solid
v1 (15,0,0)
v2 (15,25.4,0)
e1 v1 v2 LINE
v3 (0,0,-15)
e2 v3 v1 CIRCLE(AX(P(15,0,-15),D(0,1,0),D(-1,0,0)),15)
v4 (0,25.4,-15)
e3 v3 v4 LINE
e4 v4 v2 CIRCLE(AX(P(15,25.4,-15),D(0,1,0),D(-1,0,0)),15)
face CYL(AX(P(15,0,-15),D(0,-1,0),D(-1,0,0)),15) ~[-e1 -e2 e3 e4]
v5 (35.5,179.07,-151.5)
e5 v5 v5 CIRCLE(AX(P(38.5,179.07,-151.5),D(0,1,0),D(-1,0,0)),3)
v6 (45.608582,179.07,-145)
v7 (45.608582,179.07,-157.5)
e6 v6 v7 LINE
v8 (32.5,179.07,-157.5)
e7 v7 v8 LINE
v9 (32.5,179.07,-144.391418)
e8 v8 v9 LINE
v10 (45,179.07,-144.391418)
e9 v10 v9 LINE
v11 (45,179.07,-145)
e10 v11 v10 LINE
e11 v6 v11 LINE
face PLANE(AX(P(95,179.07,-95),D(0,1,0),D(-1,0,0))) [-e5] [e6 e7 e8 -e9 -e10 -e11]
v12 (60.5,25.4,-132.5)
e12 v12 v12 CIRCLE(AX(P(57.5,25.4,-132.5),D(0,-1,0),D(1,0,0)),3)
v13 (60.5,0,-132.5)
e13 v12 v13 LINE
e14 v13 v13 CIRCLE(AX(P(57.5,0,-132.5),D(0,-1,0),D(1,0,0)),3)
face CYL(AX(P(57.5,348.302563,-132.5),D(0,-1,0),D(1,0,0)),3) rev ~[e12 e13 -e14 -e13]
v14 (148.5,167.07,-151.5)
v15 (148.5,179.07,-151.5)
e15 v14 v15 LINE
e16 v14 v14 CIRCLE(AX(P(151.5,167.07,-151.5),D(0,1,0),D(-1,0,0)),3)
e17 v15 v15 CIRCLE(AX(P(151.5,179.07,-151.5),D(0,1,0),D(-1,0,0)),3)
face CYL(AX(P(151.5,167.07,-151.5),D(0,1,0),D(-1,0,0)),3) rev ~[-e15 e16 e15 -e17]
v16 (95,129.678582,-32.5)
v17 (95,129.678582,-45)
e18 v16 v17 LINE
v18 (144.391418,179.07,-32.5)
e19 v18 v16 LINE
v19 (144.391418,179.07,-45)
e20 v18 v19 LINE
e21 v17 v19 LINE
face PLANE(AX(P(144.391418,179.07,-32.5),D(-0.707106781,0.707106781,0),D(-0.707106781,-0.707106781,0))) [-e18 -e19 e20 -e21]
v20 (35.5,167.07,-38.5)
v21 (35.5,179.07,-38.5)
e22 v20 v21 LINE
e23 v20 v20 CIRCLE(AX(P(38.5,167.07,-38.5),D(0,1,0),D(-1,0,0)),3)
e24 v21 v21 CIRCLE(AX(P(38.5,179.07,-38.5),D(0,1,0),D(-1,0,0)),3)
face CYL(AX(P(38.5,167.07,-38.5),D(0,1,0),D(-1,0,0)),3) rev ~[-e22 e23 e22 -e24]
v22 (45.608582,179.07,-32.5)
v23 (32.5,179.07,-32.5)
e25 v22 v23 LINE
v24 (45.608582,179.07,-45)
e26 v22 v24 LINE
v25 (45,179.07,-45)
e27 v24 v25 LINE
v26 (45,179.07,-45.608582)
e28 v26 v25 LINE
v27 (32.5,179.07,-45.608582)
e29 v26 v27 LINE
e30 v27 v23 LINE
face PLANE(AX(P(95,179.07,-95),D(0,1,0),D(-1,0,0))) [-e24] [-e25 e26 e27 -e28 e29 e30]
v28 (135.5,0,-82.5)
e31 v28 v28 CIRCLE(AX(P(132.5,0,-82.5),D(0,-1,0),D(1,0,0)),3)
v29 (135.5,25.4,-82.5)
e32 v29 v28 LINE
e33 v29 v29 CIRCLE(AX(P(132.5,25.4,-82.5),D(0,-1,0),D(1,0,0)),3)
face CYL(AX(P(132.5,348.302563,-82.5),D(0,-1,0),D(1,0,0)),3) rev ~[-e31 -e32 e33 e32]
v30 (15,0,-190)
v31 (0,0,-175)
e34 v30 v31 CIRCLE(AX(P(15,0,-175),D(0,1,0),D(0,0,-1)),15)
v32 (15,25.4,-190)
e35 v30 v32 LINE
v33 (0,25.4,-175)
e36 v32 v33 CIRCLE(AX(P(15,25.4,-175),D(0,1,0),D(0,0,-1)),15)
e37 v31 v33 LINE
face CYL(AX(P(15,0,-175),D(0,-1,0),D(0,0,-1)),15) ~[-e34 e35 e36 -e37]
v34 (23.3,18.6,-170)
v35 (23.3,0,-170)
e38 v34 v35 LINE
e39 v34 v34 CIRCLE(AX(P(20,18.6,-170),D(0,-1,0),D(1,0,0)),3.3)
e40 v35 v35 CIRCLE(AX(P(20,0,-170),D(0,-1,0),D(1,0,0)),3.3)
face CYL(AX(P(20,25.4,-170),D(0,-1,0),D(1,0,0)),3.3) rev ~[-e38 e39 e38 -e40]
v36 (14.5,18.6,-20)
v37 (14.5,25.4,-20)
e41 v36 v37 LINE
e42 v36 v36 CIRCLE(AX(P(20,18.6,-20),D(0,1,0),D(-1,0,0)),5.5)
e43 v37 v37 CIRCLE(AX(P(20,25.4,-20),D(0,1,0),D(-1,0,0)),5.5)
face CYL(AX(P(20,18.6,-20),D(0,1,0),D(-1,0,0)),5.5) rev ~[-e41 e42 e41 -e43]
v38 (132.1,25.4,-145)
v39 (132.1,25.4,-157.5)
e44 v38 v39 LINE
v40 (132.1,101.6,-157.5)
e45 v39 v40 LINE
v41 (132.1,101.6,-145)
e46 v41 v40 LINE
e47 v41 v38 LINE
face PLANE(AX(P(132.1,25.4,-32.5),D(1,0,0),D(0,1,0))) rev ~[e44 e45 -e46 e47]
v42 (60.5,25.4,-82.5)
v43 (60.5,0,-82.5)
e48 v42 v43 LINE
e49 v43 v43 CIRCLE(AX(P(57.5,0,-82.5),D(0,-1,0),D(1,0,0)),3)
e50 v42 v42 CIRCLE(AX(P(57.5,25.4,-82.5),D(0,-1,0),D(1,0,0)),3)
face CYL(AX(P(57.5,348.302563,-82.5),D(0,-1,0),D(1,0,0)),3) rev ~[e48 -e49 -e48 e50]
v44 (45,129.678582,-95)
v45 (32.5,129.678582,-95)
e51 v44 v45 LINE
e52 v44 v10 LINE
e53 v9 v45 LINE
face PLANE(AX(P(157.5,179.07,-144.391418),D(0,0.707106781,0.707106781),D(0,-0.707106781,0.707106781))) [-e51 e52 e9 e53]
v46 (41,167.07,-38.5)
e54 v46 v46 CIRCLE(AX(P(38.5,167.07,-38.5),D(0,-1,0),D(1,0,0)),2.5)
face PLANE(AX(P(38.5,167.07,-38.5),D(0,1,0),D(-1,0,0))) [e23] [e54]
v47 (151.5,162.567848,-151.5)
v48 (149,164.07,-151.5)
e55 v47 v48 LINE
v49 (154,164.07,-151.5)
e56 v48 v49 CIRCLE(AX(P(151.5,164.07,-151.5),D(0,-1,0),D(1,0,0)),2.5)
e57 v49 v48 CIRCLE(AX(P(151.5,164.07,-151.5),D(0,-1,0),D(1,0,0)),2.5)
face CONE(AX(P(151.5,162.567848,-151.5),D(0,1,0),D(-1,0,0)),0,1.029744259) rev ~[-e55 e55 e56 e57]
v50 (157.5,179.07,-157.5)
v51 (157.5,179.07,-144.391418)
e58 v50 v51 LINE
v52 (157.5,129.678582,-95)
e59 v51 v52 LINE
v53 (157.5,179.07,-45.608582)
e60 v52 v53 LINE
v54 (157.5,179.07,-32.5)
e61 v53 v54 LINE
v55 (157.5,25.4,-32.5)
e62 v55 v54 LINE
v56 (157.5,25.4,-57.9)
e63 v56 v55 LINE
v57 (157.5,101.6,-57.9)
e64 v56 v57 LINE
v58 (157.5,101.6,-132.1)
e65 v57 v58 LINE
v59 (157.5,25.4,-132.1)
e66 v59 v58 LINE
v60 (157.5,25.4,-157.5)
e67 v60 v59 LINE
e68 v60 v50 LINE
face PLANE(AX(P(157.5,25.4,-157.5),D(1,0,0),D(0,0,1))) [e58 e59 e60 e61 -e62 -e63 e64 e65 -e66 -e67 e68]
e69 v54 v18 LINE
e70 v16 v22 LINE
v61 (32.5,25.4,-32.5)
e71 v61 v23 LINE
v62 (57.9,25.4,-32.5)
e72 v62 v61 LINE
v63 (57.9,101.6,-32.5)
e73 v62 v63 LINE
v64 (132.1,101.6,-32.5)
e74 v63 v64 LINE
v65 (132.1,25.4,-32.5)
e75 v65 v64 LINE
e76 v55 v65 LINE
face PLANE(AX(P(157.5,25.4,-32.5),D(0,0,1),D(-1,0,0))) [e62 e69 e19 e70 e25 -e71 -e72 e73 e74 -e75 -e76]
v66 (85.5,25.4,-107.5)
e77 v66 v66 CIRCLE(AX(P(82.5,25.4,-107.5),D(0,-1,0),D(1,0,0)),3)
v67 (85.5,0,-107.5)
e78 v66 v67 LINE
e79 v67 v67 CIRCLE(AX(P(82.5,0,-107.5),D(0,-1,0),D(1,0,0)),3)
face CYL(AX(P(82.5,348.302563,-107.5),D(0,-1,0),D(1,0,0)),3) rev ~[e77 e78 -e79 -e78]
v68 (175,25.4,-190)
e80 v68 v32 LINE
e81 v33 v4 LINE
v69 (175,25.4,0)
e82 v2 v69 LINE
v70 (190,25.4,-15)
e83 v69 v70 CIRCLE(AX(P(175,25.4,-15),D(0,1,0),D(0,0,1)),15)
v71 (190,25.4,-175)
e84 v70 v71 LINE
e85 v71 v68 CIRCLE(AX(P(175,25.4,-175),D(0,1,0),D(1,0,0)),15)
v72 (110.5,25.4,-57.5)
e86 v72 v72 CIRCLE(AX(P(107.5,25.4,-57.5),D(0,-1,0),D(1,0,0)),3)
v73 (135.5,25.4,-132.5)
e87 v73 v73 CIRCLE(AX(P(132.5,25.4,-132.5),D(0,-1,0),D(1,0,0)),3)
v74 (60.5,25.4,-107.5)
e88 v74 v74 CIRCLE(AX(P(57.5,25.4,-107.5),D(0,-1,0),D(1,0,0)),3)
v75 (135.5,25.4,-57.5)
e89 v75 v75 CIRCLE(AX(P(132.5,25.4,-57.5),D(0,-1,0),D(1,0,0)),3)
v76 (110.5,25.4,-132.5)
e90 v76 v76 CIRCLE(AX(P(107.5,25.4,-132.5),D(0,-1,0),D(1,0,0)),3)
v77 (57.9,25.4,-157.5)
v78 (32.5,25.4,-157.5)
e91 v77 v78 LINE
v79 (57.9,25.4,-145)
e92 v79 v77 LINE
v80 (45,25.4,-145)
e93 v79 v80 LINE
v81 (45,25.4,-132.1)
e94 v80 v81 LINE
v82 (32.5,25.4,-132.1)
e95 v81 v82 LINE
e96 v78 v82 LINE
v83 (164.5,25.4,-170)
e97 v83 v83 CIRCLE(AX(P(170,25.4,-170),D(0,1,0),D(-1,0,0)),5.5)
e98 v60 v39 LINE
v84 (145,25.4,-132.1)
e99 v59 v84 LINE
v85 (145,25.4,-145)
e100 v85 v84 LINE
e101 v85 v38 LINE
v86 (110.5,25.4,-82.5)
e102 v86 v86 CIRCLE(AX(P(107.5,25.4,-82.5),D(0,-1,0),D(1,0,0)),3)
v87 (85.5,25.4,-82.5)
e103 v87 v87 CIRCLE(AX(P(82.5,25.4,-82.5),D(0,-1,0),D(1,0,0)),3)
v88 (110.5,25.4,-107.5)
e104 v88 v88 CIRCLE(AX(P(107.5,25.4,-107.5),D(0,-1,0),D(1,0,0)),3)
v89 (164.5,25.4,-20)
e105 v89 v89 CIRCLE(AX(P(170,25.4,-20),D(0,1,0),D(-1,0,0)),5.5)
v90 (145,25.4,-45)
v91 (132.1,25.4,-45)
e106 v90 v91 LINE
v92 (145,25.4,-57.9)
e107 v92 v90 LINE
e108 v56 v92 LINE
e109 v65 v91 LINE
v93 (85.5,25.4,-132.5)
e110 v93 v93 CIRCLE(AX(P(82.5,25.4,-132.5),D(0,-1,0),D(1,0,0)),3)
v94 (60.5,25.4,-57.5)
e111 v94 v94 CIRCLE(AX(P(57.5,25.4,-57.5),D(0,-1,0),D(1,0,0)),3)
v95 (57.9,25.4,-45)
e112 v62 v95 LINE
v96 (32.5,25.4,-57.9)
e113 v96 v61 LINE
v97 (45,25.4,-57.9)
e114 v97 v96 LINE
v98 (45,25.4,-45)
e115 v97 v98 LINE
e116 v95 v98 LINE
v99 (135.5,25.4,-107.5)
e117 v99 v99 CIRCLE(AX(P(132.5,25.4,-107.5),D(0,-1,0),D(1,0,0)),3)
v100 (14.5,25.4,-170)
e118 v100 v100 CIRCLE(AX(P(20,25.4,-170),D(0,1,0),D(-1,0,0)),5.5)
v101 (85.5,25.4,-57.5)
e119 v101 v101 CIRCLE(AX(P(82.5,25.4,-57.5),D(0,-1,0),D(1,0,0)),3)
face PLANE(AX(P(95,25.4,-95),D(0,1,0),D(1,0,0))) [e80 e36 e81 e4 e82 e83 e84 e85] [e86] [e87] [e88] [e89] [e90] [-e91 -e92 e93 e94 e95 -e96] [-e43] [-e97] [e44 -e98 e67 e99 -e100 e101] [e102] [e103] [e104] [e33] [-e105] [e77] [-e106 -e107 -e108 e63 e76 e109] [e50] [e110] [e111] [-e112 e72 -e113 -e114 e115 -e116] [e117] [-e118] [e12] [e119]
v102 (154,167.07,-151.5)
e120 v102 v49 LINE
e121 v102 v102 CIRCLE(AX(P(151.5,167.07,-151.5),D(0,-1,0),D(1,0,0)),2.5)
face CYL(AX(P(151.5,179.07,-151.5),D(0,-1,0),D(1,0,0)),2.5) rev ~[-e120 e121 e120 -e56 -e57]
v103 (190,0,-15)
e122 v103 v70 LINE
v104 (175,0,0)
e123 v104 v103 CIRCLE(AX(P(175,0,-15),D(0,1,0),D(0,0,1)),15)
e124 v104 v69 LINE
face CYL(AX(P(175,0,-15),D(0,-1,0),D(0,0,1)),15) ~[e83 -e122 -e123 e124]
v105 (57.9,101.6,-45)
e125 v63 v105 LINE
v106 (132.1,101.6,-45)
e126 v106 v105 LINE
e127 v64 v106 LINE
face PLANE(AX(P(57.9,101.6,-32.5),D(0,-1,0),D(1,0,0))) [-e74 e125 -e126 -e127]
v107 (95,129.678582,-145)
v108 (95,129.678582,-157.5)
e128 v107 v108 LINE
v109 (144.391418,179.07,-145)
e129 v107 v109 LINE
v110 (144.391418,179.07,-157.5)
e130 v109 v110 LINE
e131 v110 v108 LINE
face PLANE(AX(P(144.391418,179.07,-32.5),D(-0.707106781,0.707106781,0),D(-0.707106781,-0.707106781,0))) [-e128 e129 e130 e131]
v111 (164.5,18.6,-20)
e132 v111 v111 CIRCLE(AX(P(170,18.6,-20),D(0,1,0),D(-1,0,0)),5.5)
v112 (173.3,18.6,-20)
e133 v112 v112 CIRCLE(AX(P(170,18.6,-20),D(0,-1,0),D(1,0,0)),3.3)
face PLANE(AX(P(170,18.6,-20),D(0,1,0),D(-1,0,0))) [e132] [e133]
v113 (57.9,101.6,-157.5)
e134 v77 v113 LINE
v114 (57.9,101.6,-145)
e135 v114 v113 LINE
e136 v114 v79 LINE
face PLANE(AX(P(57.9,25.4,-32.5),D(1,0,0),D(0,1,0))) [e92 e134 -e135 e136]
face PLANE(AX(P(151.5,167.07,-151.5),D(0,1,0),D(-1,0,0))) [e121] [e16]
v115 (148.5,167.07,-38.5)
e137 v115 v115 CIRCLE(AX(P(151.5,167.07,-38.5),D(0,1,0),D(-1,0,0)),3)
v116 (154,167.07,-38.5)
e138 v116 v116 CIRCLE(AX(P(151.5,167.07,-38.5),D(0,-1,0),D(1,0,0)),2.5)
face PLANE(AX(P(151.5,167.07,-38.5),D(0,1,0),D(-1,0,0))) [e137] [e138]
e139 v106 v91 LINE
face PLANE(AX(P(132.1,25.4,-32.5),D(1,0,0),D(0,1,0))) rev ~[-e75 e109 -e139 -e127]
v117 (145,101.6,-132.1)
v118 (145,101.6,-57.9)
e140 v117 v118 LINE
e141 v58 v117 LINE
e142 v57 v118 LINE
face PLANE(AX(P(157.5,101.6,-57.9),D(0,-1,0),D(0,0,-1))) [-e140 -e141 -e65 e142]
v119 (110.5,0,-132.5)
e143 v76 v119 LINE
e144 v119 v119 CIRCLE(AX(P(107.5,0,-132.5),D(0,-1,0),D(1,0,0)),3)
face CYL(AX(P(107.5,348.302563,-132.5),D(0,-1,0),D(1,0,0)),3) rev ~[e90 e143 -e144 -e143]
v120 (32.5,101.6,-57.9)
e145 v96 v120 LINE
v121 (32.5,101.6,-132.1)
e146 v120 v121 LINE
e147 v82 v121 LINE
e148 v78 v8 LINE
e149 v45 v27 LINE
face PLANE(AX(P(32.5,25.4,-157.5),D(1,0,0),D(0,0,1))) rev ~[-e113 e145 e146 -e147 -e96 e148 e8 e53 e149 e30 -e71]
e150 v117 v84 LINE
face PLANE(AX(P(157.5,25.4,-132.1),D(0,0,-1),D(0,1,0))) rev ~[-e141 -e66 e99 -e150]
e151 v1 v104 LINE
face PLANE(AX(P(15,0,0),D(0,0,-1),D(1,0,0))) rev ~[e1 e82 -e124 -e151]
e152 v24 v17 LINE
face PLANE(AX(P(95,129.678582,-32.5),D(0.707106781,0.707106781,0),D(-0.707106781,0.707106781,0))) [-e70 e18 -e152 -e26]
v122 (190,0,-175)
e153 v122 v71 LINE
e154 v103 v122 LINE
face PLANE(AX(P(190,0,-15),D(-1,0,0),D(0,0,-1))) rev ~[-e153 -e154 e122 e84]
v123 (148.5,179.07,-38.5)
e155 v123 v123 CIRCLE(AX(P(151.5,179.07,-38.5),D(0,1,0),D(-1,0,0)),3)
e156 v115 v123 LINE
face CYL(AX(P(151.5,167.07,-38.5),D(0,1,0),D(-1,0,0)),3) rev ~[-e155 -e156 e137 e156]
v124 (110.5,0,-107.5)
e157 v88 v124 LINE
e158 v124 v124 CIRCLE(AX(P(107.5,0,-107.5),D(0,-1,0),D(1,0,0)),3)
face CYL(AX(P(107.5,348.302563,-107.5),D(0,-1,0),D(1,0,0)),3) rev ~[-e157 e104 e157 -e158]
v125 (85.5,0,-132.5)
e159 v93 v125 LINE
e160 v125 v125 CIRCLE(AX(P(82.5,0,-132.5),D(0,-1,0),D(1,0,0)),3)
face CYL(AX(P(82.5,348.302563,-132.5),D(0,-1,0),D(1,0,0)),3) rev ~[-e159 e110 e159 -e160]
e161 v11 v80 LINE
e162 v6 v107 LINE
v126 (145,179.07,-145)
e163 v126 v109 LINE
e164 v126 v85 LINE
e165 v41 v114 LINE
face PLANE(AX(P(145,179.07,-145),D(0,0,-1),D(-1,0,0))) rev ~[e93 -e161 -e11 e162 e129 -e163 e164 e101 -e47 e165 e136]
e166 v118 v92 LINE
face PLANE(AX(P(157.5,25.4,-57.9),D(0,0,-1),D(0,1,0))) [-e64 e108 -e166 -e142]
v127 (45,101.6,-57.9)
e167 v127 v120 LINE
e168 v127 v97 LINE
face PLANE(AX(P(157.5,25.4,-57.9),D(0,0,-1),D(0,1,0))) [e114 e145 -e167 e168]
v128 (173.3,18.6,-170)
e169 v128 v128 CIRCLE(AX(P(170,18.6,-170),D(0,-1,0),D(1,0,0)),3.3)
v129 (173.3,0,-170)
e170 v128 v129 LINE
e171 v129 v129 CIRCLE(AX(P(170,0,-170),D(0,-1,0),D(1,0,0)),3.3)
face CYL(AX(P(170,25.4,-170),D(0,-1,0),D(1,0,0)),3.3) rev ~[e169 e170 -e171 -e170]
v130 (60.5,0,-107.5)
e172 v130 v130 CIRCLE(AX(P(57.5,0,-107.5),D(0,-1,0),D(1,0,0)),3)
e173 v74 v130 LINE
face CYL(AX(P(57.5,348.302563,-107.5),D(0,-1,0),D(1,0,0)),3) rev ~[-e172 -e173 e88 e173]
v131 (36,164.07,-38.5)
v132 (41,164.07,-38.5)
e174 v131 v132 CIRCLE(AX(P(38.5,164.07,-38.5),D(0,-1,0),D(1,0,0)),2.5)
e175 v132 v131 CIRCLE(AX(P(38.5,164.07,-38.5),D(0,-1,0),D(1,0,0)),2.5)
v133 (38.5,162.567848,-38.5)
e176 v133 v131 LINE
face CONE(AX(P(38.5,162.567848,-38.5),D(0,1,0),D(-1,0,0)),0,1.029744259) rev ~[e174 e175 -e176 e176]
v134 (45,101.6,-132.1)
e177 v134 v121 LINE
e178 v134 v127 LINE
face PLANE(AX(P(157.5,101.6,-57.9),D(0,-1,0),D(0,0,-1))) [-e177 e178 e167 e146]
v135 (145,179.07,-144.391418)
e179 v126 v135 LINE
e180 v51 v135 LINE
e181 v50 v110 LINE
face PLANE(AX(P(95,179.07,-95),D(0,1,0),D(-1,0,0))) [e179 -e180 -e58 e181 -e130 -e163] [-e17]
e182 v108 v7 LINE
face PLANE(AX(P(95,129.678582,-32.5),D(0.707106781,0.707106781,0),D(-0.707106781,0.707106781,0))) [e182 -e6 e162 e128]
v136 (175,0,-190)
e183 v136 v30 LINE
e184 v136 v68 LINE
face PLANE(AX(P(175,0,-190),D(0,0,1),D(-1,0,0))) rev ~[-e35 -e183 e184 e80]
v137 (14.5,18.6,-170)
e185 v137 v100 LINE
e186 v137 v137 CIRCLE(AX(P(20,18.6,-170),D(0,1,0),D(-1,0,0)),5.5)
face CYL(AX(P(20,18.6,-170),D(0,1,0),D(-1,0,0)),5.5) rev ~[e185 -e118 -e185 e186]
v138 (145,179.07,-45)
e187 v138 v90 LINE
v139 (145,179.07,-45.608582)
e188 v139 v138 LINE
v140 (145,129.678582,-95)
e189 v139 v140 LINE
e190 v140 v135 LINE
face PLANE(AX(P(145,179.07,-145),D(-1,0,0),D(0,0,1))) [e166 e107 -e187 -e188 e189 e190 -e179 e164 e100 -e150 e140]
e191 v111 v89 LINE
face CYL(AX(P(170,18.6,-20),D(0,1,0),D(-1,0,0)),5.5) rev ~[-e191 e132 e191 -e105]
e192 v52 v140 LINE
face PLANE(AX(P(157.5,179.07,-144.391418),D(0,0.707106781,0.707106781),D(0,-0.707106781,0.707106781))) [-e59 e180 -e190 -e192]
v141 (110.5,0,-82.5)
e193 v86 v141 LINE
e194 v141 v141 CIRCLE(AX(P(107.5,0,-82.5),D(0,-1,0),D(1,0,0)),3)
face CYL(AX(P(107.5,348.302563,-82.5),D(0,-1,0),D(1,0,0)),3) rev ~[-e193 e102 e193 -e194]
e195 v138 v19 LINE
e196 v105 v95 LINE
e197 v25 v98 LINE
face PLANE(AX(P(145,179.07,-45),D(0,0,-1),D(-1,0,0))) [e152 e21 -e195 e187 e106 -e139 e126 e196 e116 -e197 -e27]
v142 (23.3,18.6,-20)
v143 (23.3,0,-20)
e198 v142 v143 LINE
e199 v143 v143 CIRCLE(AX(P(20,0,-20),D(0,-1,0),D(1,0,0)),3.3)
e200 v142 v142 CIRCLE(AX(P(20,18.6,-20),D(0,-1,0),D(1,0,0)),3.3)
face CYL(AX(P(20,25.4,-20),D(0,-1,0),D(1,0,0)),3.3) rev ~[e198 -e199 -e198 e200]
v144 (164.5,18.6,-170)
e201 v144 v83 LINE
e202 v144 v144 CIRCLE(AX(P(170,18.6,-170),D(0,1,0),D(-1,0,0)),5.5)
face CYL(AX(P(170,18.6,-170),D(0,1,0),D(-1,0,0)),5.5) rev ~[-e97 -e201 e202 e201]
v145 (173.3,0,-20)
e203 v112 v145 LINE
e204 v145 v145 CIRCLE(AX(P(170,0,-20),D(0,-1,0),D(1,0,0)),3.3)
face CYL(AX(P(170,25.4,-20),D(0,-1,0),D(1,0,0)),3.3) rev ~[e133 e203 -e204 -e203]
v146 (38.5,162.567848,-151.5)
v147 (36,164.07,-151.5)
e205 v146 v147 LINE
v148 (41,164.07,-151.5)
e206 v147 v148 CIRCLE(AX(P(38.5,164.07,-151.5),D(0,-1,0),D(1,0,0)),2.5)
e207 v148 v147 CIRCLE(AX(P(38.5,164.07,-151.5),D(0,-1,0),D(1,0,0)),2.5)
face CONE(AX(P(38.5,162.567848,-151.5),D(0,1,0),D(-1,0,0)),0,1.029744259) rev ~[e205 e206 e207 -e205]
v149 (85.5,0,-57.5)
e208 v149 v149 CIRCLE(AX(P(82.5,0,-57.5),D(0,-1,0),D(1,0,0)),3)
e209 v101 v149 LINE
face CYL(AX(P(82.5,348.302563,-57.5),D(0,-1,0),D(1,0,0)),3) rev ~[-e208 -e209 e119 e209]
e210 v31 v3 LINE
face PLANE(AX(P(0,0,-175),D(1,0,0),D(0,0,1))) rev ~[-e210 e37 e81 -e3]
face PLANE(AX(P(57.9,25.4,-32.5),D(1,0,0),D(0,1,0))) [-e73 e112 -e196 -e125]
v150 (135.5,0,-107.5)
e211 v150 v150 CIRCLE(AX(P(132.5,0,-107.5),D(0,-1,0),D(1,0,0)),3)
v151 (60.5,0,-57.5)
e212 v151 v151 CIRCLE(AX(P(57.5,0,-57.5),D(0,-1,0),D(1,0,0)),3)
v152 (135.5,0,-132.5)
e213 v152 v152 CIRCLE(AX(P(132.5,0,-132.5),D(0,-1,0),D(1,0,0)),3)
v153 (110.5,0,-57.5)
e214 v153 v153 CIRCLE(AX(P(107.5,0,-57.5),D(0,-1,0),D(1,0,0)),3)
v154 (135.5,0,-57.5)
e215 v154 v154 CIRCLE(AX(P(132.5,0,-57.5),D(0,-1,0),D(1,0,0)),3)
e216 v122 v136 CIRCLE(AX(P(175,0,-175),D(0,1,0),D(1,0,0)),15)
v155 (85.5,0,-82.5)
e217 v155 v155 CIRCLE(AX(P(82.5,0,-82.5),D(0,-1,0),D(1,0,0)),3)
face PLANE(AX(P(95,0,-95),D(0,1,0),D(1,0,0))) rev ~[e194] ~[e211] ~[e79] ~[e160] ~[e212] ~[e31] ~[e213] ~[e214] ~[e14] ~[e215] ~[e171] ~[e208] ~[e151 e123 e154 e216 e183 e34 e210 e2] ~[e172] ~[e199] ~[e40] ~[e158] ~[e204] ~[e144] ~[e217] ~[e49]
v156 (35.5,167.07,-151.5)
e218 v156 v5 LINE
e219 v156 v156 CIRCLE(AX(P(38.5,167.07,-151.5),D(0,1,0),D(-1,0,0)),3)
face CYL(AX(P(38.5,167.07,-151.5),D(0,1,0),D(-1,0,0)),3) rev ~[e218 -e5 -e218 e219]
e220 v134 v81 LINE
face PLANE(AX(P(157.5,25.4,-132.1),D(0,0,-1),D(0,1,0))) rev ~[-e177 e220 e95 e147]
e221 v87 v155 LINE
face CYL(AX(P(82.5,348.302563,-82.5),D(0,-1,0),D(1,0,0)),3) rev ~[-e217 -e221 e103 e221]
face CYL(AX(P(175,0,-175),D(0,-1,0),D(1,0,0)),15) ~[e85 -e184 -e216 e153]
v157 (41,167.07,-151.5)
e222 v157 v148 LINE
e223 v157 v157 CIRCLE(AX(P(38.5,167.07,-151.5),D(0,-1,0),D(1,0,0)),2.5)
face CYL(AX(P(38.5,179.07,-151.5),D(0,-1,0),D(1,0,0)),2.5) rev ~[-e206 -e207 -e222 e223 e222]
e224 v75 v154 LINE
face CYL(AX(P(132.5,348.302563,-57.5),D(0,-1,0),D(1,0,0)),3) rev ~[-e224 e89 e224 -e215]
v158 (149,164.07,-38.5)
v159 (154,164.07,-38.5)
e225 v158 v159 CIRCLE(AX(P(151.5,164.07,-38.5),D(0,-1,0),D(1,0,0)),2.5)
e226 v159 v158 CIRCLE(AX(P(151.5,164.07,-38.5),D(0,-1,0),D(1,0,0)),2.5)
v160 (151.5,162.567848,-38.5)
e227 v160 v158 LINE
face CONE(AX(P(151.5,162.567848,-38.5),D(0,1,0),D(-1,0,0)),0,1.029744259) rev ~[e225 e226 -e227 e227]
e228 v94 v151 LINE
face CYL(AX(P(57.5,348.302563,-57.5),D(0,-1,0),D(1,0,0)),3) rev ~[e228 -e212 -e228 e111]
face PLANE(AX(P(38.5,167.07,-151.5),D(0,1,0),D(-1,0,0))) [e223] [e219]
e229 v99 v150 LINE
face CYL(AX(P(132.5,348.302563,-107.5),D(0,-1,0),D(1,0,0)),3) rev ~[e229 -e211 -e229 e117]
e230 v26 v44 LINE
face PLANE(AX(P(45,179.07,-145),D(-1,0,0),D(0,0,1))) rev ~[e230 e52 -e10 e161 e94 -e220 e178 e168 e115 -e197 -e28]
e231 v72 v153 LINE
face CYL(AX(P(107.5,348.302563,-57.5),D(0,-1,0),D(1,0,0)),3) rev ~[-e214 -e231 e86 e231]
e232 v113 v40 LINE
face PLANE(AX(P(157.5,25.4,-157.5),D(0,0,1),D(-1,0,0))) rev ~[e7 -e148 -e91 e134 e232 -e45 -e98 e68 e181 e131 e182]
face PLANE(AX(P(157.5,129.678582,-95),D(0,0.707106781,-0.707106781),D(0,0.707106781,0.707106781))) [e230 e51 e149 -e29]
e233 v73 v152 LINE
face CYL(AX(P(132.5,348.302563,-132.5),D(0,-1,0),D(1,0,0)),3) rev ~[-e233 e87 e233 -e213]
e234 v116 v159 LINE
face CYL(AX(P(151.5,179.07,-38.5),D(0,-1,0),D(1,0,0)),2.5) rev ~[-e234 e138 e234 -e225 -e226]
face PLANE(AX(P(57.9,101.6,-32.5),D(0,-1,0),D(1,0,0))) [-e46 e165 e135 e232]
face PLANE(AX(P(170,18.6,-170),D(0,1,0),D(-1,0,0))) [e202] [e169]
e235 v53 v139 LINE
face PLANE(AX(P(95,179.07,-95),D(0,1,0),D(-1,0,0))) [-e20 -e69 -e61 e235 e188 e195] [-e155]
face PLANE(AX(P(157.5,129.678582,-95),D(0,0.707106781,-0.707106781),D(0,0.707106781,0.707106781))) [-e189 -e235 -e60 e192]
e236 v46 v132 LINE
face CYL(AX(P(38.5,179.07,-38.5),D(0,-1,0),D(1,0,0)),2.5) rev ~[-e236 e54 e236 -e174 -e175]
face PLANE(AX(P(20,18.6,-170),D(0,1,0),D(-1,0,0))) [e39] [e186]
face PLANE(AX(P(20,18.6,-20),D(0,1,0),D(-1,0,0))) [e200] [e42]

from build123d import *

# Parameters (mm, degrees)
EXTRUDE2_DEPTH               = 25.4
SKETCH3_W                    = 125
SKETCH3_H                    = 125
EXTRUDE3_DEPTH               = 153.67
SKETCH4_W                    = 100
SKETCH4_H                    = 100
CUT_EXTRUDE1_DEPTH           = 153.67
SKETCH5_W                    = 74.2
SKETCH5_H                    = 76.2
CUT_EXTRUDE2_DEPTH           = 305.913618751
SKETCH6_W                    = 74.2
SKETCH6_H                    = 76.2
CUT_EXTRUDE3_DEPTH           = 305.913618751
HOLE_WIZARD_M6_3_D           = 5
HOLE_WIZARD_M6_3_DEPTH       = 15
HOLE_WIZARD_M6_3_CBORE_D     = 6
HOLE_WIZARD_M6_3_CBORE_DEPTH = 12
HOLE_WIZARD_M6_3_TIP         = 1.502151548
HOLE_WIZARD_1_D              = 6.6
HOLE_WIZARD_1_CBORE_D        = 11
HOLE_WIZARD_1_CBORE_DEPTH    = 6.8
HOLE_WIZARD_M6_2_D           = 6
LPATTERN2_COUNT              = 4
LPATTERN2_PITCH              = 25
LPATTERN2_COUNT_DIR2         = 4
LPATTERN2_PITCH_DIR2         = 25


with BuildPart() as part:
    # Sketch2 → Extrude2 (new body)
    with BuildSketch(Plane(origin=(0, 0, 0), x_dir=(1, 0, 0), z_dir=(0, 1, 0))):
        with BuildLine():
            Line((15, 0), (175, 0))
            ThreePointArc((175, 0), (185.606601718, 4.393398282), (190, 15))
            Line((190, 15), (190, 175))
            ThreePointArc((190, 175), (185.606601718, 185.606601718), (175, 190))
            Line((175, 190), (15, 190))
            ThreePointArc((15, 190), (4.393398282, 185.606601718), (0, 175))
            Line((0, 175), (0, 15))
            ThreePointArc((0, 15), (4.393398282, 4.393398282), (15, 0))
        make_face()
    extrude(amount=EXTRUDE2_DEPTH)

    # Sketch3 → Extrude3 (add)
    with BuildSketch(Plane(origin=(0, 25.4, 0), x_dir=(-1, 0, 0), z_dir=(0, 1, 0))):
        with Locations((-95, -95)):
            Rectangle(SKETCH3_W, SKETCH3_H)
    extrude(amount=EXTRUDE3_DEPTH)

    # Sketch4 → Cut-Extrude1 (cut)
    with BuildSketch(Plane(origin=(0, 179.07, 0), x_dir=(-1, 0, 0), z_dir=(0, 1, 0))):
        with Locations((-95, -95)):
            Rectangle(SKETCH4_W, SKETCH4_H)
    extrude(amount=-CUT_EXTRUDE1_DEPTH, mode=Mode.SUBTRACT)

    # Sketch5 → Cut-Extrude2 (cut, through all)
    with BuildSketch(Plane.XY.offset(-32.5)):
        Polygon((45.6085824, 179.07), (144.3914176, 179.07), (95, 129.6785824), align=None)
        with Locations((95, 63.5)):
            Rectangle(SKETCH5_W, SKETCH5_H)
    extrude(amount=-CUT_EXTRUDE2_DEPTH, mode=Mode.SUBTRACT)

    # Sketch6 → Cut-Extrude3 (cut, through all)
    with BuildSketch(Plane(origin=(157.5, 0, 0), x_dir=(0, 0, -1), z_dir=(1, 0, 0))):
        Polygon((45.6085824, 179.07), (144.3914176, 179.07), (95, 129.6785824), align=None)
        with Locations((95, 63.5)):
            Rectangle(SKETCH6_W, SKETCH6_H)
    extrude(amount=-CUT_EXTRUDE3_DEPTH, mode=Mode.SUBTRACT)

    # M6 螺纹孔3
    with Locations(Plane(origin=(0, 179.07, 0), x_dir=(-1, 0, 0), z_dir=(0, 1, 0))):
        with Locations((-151.5, -151.5), (-151.5, -38.5), (-38.5, -38.5), (-38.5, -151.5)):
            CounterBoreHole(HOLE_WIZARD_M6_3_D / 2, HOLE_WIZARD_M6_3_CBORE_D / 2, HOLE_WIZARD_M6_3_CBORE_DEPTH, depth=HOLE_WIZARD_M6_3_DEPTH)
            with Locations((0, 0, -(HOLE_WIZARD_M6_3_DEPTH + HOLE_WIZARD_M6_3_TIP / 2))):  # 118° drill point
                Cone(0, HOLE_WIZARD_M6_3_D / 2, HOLE_WIZARD_M6_3_TIP, mode=Mode.SUBTRACT)

    # 打孔尺寸(%根据)内六角圆柱头螺钉的类型1 (through all)
    with Locations(Plane(origin=(0, 25.4, 0), x_dir=(-1, 0, 0), z_dir=(0, 1, 0))):
        with Locations((-170, -20), (-170, -170), (-20, -170), (-20, -20)):
            CounterBoreHole(HOLE_WIZARD_1_D / 2, HOLE_WIZARD_1_CBORE_D / 2, HOLE_WIZARD_1_CBORE_DEPTH)

    # M6 螺纹孔2 (through all)
    with Locations(Plane(origin=(0, 25.4, 0), x_dir=(-1, 0, 0), z_dir=(0, 1, 0))):
        with Locations((-57.5, -132.5)):
            hole_wizard_m6_2 = Hole(HOLE_WIZARD_M6_2_D / 2)

    # LPattern2: Hole Wizard M6 _2 4 × 4
    with Locations(*[(i * LPATTERN2_PITCH, 0, j * LPATTERN2_PITCH_DIR2) for i in range(LPATTERN2_COUNT) for j in range(LPATTERN2_COUNT_DIR2) if (i, j) != (0, 0)]):
        add(hole_wizard_m6_2, mode=Mode.SUBTRACT)


solid = part.part
